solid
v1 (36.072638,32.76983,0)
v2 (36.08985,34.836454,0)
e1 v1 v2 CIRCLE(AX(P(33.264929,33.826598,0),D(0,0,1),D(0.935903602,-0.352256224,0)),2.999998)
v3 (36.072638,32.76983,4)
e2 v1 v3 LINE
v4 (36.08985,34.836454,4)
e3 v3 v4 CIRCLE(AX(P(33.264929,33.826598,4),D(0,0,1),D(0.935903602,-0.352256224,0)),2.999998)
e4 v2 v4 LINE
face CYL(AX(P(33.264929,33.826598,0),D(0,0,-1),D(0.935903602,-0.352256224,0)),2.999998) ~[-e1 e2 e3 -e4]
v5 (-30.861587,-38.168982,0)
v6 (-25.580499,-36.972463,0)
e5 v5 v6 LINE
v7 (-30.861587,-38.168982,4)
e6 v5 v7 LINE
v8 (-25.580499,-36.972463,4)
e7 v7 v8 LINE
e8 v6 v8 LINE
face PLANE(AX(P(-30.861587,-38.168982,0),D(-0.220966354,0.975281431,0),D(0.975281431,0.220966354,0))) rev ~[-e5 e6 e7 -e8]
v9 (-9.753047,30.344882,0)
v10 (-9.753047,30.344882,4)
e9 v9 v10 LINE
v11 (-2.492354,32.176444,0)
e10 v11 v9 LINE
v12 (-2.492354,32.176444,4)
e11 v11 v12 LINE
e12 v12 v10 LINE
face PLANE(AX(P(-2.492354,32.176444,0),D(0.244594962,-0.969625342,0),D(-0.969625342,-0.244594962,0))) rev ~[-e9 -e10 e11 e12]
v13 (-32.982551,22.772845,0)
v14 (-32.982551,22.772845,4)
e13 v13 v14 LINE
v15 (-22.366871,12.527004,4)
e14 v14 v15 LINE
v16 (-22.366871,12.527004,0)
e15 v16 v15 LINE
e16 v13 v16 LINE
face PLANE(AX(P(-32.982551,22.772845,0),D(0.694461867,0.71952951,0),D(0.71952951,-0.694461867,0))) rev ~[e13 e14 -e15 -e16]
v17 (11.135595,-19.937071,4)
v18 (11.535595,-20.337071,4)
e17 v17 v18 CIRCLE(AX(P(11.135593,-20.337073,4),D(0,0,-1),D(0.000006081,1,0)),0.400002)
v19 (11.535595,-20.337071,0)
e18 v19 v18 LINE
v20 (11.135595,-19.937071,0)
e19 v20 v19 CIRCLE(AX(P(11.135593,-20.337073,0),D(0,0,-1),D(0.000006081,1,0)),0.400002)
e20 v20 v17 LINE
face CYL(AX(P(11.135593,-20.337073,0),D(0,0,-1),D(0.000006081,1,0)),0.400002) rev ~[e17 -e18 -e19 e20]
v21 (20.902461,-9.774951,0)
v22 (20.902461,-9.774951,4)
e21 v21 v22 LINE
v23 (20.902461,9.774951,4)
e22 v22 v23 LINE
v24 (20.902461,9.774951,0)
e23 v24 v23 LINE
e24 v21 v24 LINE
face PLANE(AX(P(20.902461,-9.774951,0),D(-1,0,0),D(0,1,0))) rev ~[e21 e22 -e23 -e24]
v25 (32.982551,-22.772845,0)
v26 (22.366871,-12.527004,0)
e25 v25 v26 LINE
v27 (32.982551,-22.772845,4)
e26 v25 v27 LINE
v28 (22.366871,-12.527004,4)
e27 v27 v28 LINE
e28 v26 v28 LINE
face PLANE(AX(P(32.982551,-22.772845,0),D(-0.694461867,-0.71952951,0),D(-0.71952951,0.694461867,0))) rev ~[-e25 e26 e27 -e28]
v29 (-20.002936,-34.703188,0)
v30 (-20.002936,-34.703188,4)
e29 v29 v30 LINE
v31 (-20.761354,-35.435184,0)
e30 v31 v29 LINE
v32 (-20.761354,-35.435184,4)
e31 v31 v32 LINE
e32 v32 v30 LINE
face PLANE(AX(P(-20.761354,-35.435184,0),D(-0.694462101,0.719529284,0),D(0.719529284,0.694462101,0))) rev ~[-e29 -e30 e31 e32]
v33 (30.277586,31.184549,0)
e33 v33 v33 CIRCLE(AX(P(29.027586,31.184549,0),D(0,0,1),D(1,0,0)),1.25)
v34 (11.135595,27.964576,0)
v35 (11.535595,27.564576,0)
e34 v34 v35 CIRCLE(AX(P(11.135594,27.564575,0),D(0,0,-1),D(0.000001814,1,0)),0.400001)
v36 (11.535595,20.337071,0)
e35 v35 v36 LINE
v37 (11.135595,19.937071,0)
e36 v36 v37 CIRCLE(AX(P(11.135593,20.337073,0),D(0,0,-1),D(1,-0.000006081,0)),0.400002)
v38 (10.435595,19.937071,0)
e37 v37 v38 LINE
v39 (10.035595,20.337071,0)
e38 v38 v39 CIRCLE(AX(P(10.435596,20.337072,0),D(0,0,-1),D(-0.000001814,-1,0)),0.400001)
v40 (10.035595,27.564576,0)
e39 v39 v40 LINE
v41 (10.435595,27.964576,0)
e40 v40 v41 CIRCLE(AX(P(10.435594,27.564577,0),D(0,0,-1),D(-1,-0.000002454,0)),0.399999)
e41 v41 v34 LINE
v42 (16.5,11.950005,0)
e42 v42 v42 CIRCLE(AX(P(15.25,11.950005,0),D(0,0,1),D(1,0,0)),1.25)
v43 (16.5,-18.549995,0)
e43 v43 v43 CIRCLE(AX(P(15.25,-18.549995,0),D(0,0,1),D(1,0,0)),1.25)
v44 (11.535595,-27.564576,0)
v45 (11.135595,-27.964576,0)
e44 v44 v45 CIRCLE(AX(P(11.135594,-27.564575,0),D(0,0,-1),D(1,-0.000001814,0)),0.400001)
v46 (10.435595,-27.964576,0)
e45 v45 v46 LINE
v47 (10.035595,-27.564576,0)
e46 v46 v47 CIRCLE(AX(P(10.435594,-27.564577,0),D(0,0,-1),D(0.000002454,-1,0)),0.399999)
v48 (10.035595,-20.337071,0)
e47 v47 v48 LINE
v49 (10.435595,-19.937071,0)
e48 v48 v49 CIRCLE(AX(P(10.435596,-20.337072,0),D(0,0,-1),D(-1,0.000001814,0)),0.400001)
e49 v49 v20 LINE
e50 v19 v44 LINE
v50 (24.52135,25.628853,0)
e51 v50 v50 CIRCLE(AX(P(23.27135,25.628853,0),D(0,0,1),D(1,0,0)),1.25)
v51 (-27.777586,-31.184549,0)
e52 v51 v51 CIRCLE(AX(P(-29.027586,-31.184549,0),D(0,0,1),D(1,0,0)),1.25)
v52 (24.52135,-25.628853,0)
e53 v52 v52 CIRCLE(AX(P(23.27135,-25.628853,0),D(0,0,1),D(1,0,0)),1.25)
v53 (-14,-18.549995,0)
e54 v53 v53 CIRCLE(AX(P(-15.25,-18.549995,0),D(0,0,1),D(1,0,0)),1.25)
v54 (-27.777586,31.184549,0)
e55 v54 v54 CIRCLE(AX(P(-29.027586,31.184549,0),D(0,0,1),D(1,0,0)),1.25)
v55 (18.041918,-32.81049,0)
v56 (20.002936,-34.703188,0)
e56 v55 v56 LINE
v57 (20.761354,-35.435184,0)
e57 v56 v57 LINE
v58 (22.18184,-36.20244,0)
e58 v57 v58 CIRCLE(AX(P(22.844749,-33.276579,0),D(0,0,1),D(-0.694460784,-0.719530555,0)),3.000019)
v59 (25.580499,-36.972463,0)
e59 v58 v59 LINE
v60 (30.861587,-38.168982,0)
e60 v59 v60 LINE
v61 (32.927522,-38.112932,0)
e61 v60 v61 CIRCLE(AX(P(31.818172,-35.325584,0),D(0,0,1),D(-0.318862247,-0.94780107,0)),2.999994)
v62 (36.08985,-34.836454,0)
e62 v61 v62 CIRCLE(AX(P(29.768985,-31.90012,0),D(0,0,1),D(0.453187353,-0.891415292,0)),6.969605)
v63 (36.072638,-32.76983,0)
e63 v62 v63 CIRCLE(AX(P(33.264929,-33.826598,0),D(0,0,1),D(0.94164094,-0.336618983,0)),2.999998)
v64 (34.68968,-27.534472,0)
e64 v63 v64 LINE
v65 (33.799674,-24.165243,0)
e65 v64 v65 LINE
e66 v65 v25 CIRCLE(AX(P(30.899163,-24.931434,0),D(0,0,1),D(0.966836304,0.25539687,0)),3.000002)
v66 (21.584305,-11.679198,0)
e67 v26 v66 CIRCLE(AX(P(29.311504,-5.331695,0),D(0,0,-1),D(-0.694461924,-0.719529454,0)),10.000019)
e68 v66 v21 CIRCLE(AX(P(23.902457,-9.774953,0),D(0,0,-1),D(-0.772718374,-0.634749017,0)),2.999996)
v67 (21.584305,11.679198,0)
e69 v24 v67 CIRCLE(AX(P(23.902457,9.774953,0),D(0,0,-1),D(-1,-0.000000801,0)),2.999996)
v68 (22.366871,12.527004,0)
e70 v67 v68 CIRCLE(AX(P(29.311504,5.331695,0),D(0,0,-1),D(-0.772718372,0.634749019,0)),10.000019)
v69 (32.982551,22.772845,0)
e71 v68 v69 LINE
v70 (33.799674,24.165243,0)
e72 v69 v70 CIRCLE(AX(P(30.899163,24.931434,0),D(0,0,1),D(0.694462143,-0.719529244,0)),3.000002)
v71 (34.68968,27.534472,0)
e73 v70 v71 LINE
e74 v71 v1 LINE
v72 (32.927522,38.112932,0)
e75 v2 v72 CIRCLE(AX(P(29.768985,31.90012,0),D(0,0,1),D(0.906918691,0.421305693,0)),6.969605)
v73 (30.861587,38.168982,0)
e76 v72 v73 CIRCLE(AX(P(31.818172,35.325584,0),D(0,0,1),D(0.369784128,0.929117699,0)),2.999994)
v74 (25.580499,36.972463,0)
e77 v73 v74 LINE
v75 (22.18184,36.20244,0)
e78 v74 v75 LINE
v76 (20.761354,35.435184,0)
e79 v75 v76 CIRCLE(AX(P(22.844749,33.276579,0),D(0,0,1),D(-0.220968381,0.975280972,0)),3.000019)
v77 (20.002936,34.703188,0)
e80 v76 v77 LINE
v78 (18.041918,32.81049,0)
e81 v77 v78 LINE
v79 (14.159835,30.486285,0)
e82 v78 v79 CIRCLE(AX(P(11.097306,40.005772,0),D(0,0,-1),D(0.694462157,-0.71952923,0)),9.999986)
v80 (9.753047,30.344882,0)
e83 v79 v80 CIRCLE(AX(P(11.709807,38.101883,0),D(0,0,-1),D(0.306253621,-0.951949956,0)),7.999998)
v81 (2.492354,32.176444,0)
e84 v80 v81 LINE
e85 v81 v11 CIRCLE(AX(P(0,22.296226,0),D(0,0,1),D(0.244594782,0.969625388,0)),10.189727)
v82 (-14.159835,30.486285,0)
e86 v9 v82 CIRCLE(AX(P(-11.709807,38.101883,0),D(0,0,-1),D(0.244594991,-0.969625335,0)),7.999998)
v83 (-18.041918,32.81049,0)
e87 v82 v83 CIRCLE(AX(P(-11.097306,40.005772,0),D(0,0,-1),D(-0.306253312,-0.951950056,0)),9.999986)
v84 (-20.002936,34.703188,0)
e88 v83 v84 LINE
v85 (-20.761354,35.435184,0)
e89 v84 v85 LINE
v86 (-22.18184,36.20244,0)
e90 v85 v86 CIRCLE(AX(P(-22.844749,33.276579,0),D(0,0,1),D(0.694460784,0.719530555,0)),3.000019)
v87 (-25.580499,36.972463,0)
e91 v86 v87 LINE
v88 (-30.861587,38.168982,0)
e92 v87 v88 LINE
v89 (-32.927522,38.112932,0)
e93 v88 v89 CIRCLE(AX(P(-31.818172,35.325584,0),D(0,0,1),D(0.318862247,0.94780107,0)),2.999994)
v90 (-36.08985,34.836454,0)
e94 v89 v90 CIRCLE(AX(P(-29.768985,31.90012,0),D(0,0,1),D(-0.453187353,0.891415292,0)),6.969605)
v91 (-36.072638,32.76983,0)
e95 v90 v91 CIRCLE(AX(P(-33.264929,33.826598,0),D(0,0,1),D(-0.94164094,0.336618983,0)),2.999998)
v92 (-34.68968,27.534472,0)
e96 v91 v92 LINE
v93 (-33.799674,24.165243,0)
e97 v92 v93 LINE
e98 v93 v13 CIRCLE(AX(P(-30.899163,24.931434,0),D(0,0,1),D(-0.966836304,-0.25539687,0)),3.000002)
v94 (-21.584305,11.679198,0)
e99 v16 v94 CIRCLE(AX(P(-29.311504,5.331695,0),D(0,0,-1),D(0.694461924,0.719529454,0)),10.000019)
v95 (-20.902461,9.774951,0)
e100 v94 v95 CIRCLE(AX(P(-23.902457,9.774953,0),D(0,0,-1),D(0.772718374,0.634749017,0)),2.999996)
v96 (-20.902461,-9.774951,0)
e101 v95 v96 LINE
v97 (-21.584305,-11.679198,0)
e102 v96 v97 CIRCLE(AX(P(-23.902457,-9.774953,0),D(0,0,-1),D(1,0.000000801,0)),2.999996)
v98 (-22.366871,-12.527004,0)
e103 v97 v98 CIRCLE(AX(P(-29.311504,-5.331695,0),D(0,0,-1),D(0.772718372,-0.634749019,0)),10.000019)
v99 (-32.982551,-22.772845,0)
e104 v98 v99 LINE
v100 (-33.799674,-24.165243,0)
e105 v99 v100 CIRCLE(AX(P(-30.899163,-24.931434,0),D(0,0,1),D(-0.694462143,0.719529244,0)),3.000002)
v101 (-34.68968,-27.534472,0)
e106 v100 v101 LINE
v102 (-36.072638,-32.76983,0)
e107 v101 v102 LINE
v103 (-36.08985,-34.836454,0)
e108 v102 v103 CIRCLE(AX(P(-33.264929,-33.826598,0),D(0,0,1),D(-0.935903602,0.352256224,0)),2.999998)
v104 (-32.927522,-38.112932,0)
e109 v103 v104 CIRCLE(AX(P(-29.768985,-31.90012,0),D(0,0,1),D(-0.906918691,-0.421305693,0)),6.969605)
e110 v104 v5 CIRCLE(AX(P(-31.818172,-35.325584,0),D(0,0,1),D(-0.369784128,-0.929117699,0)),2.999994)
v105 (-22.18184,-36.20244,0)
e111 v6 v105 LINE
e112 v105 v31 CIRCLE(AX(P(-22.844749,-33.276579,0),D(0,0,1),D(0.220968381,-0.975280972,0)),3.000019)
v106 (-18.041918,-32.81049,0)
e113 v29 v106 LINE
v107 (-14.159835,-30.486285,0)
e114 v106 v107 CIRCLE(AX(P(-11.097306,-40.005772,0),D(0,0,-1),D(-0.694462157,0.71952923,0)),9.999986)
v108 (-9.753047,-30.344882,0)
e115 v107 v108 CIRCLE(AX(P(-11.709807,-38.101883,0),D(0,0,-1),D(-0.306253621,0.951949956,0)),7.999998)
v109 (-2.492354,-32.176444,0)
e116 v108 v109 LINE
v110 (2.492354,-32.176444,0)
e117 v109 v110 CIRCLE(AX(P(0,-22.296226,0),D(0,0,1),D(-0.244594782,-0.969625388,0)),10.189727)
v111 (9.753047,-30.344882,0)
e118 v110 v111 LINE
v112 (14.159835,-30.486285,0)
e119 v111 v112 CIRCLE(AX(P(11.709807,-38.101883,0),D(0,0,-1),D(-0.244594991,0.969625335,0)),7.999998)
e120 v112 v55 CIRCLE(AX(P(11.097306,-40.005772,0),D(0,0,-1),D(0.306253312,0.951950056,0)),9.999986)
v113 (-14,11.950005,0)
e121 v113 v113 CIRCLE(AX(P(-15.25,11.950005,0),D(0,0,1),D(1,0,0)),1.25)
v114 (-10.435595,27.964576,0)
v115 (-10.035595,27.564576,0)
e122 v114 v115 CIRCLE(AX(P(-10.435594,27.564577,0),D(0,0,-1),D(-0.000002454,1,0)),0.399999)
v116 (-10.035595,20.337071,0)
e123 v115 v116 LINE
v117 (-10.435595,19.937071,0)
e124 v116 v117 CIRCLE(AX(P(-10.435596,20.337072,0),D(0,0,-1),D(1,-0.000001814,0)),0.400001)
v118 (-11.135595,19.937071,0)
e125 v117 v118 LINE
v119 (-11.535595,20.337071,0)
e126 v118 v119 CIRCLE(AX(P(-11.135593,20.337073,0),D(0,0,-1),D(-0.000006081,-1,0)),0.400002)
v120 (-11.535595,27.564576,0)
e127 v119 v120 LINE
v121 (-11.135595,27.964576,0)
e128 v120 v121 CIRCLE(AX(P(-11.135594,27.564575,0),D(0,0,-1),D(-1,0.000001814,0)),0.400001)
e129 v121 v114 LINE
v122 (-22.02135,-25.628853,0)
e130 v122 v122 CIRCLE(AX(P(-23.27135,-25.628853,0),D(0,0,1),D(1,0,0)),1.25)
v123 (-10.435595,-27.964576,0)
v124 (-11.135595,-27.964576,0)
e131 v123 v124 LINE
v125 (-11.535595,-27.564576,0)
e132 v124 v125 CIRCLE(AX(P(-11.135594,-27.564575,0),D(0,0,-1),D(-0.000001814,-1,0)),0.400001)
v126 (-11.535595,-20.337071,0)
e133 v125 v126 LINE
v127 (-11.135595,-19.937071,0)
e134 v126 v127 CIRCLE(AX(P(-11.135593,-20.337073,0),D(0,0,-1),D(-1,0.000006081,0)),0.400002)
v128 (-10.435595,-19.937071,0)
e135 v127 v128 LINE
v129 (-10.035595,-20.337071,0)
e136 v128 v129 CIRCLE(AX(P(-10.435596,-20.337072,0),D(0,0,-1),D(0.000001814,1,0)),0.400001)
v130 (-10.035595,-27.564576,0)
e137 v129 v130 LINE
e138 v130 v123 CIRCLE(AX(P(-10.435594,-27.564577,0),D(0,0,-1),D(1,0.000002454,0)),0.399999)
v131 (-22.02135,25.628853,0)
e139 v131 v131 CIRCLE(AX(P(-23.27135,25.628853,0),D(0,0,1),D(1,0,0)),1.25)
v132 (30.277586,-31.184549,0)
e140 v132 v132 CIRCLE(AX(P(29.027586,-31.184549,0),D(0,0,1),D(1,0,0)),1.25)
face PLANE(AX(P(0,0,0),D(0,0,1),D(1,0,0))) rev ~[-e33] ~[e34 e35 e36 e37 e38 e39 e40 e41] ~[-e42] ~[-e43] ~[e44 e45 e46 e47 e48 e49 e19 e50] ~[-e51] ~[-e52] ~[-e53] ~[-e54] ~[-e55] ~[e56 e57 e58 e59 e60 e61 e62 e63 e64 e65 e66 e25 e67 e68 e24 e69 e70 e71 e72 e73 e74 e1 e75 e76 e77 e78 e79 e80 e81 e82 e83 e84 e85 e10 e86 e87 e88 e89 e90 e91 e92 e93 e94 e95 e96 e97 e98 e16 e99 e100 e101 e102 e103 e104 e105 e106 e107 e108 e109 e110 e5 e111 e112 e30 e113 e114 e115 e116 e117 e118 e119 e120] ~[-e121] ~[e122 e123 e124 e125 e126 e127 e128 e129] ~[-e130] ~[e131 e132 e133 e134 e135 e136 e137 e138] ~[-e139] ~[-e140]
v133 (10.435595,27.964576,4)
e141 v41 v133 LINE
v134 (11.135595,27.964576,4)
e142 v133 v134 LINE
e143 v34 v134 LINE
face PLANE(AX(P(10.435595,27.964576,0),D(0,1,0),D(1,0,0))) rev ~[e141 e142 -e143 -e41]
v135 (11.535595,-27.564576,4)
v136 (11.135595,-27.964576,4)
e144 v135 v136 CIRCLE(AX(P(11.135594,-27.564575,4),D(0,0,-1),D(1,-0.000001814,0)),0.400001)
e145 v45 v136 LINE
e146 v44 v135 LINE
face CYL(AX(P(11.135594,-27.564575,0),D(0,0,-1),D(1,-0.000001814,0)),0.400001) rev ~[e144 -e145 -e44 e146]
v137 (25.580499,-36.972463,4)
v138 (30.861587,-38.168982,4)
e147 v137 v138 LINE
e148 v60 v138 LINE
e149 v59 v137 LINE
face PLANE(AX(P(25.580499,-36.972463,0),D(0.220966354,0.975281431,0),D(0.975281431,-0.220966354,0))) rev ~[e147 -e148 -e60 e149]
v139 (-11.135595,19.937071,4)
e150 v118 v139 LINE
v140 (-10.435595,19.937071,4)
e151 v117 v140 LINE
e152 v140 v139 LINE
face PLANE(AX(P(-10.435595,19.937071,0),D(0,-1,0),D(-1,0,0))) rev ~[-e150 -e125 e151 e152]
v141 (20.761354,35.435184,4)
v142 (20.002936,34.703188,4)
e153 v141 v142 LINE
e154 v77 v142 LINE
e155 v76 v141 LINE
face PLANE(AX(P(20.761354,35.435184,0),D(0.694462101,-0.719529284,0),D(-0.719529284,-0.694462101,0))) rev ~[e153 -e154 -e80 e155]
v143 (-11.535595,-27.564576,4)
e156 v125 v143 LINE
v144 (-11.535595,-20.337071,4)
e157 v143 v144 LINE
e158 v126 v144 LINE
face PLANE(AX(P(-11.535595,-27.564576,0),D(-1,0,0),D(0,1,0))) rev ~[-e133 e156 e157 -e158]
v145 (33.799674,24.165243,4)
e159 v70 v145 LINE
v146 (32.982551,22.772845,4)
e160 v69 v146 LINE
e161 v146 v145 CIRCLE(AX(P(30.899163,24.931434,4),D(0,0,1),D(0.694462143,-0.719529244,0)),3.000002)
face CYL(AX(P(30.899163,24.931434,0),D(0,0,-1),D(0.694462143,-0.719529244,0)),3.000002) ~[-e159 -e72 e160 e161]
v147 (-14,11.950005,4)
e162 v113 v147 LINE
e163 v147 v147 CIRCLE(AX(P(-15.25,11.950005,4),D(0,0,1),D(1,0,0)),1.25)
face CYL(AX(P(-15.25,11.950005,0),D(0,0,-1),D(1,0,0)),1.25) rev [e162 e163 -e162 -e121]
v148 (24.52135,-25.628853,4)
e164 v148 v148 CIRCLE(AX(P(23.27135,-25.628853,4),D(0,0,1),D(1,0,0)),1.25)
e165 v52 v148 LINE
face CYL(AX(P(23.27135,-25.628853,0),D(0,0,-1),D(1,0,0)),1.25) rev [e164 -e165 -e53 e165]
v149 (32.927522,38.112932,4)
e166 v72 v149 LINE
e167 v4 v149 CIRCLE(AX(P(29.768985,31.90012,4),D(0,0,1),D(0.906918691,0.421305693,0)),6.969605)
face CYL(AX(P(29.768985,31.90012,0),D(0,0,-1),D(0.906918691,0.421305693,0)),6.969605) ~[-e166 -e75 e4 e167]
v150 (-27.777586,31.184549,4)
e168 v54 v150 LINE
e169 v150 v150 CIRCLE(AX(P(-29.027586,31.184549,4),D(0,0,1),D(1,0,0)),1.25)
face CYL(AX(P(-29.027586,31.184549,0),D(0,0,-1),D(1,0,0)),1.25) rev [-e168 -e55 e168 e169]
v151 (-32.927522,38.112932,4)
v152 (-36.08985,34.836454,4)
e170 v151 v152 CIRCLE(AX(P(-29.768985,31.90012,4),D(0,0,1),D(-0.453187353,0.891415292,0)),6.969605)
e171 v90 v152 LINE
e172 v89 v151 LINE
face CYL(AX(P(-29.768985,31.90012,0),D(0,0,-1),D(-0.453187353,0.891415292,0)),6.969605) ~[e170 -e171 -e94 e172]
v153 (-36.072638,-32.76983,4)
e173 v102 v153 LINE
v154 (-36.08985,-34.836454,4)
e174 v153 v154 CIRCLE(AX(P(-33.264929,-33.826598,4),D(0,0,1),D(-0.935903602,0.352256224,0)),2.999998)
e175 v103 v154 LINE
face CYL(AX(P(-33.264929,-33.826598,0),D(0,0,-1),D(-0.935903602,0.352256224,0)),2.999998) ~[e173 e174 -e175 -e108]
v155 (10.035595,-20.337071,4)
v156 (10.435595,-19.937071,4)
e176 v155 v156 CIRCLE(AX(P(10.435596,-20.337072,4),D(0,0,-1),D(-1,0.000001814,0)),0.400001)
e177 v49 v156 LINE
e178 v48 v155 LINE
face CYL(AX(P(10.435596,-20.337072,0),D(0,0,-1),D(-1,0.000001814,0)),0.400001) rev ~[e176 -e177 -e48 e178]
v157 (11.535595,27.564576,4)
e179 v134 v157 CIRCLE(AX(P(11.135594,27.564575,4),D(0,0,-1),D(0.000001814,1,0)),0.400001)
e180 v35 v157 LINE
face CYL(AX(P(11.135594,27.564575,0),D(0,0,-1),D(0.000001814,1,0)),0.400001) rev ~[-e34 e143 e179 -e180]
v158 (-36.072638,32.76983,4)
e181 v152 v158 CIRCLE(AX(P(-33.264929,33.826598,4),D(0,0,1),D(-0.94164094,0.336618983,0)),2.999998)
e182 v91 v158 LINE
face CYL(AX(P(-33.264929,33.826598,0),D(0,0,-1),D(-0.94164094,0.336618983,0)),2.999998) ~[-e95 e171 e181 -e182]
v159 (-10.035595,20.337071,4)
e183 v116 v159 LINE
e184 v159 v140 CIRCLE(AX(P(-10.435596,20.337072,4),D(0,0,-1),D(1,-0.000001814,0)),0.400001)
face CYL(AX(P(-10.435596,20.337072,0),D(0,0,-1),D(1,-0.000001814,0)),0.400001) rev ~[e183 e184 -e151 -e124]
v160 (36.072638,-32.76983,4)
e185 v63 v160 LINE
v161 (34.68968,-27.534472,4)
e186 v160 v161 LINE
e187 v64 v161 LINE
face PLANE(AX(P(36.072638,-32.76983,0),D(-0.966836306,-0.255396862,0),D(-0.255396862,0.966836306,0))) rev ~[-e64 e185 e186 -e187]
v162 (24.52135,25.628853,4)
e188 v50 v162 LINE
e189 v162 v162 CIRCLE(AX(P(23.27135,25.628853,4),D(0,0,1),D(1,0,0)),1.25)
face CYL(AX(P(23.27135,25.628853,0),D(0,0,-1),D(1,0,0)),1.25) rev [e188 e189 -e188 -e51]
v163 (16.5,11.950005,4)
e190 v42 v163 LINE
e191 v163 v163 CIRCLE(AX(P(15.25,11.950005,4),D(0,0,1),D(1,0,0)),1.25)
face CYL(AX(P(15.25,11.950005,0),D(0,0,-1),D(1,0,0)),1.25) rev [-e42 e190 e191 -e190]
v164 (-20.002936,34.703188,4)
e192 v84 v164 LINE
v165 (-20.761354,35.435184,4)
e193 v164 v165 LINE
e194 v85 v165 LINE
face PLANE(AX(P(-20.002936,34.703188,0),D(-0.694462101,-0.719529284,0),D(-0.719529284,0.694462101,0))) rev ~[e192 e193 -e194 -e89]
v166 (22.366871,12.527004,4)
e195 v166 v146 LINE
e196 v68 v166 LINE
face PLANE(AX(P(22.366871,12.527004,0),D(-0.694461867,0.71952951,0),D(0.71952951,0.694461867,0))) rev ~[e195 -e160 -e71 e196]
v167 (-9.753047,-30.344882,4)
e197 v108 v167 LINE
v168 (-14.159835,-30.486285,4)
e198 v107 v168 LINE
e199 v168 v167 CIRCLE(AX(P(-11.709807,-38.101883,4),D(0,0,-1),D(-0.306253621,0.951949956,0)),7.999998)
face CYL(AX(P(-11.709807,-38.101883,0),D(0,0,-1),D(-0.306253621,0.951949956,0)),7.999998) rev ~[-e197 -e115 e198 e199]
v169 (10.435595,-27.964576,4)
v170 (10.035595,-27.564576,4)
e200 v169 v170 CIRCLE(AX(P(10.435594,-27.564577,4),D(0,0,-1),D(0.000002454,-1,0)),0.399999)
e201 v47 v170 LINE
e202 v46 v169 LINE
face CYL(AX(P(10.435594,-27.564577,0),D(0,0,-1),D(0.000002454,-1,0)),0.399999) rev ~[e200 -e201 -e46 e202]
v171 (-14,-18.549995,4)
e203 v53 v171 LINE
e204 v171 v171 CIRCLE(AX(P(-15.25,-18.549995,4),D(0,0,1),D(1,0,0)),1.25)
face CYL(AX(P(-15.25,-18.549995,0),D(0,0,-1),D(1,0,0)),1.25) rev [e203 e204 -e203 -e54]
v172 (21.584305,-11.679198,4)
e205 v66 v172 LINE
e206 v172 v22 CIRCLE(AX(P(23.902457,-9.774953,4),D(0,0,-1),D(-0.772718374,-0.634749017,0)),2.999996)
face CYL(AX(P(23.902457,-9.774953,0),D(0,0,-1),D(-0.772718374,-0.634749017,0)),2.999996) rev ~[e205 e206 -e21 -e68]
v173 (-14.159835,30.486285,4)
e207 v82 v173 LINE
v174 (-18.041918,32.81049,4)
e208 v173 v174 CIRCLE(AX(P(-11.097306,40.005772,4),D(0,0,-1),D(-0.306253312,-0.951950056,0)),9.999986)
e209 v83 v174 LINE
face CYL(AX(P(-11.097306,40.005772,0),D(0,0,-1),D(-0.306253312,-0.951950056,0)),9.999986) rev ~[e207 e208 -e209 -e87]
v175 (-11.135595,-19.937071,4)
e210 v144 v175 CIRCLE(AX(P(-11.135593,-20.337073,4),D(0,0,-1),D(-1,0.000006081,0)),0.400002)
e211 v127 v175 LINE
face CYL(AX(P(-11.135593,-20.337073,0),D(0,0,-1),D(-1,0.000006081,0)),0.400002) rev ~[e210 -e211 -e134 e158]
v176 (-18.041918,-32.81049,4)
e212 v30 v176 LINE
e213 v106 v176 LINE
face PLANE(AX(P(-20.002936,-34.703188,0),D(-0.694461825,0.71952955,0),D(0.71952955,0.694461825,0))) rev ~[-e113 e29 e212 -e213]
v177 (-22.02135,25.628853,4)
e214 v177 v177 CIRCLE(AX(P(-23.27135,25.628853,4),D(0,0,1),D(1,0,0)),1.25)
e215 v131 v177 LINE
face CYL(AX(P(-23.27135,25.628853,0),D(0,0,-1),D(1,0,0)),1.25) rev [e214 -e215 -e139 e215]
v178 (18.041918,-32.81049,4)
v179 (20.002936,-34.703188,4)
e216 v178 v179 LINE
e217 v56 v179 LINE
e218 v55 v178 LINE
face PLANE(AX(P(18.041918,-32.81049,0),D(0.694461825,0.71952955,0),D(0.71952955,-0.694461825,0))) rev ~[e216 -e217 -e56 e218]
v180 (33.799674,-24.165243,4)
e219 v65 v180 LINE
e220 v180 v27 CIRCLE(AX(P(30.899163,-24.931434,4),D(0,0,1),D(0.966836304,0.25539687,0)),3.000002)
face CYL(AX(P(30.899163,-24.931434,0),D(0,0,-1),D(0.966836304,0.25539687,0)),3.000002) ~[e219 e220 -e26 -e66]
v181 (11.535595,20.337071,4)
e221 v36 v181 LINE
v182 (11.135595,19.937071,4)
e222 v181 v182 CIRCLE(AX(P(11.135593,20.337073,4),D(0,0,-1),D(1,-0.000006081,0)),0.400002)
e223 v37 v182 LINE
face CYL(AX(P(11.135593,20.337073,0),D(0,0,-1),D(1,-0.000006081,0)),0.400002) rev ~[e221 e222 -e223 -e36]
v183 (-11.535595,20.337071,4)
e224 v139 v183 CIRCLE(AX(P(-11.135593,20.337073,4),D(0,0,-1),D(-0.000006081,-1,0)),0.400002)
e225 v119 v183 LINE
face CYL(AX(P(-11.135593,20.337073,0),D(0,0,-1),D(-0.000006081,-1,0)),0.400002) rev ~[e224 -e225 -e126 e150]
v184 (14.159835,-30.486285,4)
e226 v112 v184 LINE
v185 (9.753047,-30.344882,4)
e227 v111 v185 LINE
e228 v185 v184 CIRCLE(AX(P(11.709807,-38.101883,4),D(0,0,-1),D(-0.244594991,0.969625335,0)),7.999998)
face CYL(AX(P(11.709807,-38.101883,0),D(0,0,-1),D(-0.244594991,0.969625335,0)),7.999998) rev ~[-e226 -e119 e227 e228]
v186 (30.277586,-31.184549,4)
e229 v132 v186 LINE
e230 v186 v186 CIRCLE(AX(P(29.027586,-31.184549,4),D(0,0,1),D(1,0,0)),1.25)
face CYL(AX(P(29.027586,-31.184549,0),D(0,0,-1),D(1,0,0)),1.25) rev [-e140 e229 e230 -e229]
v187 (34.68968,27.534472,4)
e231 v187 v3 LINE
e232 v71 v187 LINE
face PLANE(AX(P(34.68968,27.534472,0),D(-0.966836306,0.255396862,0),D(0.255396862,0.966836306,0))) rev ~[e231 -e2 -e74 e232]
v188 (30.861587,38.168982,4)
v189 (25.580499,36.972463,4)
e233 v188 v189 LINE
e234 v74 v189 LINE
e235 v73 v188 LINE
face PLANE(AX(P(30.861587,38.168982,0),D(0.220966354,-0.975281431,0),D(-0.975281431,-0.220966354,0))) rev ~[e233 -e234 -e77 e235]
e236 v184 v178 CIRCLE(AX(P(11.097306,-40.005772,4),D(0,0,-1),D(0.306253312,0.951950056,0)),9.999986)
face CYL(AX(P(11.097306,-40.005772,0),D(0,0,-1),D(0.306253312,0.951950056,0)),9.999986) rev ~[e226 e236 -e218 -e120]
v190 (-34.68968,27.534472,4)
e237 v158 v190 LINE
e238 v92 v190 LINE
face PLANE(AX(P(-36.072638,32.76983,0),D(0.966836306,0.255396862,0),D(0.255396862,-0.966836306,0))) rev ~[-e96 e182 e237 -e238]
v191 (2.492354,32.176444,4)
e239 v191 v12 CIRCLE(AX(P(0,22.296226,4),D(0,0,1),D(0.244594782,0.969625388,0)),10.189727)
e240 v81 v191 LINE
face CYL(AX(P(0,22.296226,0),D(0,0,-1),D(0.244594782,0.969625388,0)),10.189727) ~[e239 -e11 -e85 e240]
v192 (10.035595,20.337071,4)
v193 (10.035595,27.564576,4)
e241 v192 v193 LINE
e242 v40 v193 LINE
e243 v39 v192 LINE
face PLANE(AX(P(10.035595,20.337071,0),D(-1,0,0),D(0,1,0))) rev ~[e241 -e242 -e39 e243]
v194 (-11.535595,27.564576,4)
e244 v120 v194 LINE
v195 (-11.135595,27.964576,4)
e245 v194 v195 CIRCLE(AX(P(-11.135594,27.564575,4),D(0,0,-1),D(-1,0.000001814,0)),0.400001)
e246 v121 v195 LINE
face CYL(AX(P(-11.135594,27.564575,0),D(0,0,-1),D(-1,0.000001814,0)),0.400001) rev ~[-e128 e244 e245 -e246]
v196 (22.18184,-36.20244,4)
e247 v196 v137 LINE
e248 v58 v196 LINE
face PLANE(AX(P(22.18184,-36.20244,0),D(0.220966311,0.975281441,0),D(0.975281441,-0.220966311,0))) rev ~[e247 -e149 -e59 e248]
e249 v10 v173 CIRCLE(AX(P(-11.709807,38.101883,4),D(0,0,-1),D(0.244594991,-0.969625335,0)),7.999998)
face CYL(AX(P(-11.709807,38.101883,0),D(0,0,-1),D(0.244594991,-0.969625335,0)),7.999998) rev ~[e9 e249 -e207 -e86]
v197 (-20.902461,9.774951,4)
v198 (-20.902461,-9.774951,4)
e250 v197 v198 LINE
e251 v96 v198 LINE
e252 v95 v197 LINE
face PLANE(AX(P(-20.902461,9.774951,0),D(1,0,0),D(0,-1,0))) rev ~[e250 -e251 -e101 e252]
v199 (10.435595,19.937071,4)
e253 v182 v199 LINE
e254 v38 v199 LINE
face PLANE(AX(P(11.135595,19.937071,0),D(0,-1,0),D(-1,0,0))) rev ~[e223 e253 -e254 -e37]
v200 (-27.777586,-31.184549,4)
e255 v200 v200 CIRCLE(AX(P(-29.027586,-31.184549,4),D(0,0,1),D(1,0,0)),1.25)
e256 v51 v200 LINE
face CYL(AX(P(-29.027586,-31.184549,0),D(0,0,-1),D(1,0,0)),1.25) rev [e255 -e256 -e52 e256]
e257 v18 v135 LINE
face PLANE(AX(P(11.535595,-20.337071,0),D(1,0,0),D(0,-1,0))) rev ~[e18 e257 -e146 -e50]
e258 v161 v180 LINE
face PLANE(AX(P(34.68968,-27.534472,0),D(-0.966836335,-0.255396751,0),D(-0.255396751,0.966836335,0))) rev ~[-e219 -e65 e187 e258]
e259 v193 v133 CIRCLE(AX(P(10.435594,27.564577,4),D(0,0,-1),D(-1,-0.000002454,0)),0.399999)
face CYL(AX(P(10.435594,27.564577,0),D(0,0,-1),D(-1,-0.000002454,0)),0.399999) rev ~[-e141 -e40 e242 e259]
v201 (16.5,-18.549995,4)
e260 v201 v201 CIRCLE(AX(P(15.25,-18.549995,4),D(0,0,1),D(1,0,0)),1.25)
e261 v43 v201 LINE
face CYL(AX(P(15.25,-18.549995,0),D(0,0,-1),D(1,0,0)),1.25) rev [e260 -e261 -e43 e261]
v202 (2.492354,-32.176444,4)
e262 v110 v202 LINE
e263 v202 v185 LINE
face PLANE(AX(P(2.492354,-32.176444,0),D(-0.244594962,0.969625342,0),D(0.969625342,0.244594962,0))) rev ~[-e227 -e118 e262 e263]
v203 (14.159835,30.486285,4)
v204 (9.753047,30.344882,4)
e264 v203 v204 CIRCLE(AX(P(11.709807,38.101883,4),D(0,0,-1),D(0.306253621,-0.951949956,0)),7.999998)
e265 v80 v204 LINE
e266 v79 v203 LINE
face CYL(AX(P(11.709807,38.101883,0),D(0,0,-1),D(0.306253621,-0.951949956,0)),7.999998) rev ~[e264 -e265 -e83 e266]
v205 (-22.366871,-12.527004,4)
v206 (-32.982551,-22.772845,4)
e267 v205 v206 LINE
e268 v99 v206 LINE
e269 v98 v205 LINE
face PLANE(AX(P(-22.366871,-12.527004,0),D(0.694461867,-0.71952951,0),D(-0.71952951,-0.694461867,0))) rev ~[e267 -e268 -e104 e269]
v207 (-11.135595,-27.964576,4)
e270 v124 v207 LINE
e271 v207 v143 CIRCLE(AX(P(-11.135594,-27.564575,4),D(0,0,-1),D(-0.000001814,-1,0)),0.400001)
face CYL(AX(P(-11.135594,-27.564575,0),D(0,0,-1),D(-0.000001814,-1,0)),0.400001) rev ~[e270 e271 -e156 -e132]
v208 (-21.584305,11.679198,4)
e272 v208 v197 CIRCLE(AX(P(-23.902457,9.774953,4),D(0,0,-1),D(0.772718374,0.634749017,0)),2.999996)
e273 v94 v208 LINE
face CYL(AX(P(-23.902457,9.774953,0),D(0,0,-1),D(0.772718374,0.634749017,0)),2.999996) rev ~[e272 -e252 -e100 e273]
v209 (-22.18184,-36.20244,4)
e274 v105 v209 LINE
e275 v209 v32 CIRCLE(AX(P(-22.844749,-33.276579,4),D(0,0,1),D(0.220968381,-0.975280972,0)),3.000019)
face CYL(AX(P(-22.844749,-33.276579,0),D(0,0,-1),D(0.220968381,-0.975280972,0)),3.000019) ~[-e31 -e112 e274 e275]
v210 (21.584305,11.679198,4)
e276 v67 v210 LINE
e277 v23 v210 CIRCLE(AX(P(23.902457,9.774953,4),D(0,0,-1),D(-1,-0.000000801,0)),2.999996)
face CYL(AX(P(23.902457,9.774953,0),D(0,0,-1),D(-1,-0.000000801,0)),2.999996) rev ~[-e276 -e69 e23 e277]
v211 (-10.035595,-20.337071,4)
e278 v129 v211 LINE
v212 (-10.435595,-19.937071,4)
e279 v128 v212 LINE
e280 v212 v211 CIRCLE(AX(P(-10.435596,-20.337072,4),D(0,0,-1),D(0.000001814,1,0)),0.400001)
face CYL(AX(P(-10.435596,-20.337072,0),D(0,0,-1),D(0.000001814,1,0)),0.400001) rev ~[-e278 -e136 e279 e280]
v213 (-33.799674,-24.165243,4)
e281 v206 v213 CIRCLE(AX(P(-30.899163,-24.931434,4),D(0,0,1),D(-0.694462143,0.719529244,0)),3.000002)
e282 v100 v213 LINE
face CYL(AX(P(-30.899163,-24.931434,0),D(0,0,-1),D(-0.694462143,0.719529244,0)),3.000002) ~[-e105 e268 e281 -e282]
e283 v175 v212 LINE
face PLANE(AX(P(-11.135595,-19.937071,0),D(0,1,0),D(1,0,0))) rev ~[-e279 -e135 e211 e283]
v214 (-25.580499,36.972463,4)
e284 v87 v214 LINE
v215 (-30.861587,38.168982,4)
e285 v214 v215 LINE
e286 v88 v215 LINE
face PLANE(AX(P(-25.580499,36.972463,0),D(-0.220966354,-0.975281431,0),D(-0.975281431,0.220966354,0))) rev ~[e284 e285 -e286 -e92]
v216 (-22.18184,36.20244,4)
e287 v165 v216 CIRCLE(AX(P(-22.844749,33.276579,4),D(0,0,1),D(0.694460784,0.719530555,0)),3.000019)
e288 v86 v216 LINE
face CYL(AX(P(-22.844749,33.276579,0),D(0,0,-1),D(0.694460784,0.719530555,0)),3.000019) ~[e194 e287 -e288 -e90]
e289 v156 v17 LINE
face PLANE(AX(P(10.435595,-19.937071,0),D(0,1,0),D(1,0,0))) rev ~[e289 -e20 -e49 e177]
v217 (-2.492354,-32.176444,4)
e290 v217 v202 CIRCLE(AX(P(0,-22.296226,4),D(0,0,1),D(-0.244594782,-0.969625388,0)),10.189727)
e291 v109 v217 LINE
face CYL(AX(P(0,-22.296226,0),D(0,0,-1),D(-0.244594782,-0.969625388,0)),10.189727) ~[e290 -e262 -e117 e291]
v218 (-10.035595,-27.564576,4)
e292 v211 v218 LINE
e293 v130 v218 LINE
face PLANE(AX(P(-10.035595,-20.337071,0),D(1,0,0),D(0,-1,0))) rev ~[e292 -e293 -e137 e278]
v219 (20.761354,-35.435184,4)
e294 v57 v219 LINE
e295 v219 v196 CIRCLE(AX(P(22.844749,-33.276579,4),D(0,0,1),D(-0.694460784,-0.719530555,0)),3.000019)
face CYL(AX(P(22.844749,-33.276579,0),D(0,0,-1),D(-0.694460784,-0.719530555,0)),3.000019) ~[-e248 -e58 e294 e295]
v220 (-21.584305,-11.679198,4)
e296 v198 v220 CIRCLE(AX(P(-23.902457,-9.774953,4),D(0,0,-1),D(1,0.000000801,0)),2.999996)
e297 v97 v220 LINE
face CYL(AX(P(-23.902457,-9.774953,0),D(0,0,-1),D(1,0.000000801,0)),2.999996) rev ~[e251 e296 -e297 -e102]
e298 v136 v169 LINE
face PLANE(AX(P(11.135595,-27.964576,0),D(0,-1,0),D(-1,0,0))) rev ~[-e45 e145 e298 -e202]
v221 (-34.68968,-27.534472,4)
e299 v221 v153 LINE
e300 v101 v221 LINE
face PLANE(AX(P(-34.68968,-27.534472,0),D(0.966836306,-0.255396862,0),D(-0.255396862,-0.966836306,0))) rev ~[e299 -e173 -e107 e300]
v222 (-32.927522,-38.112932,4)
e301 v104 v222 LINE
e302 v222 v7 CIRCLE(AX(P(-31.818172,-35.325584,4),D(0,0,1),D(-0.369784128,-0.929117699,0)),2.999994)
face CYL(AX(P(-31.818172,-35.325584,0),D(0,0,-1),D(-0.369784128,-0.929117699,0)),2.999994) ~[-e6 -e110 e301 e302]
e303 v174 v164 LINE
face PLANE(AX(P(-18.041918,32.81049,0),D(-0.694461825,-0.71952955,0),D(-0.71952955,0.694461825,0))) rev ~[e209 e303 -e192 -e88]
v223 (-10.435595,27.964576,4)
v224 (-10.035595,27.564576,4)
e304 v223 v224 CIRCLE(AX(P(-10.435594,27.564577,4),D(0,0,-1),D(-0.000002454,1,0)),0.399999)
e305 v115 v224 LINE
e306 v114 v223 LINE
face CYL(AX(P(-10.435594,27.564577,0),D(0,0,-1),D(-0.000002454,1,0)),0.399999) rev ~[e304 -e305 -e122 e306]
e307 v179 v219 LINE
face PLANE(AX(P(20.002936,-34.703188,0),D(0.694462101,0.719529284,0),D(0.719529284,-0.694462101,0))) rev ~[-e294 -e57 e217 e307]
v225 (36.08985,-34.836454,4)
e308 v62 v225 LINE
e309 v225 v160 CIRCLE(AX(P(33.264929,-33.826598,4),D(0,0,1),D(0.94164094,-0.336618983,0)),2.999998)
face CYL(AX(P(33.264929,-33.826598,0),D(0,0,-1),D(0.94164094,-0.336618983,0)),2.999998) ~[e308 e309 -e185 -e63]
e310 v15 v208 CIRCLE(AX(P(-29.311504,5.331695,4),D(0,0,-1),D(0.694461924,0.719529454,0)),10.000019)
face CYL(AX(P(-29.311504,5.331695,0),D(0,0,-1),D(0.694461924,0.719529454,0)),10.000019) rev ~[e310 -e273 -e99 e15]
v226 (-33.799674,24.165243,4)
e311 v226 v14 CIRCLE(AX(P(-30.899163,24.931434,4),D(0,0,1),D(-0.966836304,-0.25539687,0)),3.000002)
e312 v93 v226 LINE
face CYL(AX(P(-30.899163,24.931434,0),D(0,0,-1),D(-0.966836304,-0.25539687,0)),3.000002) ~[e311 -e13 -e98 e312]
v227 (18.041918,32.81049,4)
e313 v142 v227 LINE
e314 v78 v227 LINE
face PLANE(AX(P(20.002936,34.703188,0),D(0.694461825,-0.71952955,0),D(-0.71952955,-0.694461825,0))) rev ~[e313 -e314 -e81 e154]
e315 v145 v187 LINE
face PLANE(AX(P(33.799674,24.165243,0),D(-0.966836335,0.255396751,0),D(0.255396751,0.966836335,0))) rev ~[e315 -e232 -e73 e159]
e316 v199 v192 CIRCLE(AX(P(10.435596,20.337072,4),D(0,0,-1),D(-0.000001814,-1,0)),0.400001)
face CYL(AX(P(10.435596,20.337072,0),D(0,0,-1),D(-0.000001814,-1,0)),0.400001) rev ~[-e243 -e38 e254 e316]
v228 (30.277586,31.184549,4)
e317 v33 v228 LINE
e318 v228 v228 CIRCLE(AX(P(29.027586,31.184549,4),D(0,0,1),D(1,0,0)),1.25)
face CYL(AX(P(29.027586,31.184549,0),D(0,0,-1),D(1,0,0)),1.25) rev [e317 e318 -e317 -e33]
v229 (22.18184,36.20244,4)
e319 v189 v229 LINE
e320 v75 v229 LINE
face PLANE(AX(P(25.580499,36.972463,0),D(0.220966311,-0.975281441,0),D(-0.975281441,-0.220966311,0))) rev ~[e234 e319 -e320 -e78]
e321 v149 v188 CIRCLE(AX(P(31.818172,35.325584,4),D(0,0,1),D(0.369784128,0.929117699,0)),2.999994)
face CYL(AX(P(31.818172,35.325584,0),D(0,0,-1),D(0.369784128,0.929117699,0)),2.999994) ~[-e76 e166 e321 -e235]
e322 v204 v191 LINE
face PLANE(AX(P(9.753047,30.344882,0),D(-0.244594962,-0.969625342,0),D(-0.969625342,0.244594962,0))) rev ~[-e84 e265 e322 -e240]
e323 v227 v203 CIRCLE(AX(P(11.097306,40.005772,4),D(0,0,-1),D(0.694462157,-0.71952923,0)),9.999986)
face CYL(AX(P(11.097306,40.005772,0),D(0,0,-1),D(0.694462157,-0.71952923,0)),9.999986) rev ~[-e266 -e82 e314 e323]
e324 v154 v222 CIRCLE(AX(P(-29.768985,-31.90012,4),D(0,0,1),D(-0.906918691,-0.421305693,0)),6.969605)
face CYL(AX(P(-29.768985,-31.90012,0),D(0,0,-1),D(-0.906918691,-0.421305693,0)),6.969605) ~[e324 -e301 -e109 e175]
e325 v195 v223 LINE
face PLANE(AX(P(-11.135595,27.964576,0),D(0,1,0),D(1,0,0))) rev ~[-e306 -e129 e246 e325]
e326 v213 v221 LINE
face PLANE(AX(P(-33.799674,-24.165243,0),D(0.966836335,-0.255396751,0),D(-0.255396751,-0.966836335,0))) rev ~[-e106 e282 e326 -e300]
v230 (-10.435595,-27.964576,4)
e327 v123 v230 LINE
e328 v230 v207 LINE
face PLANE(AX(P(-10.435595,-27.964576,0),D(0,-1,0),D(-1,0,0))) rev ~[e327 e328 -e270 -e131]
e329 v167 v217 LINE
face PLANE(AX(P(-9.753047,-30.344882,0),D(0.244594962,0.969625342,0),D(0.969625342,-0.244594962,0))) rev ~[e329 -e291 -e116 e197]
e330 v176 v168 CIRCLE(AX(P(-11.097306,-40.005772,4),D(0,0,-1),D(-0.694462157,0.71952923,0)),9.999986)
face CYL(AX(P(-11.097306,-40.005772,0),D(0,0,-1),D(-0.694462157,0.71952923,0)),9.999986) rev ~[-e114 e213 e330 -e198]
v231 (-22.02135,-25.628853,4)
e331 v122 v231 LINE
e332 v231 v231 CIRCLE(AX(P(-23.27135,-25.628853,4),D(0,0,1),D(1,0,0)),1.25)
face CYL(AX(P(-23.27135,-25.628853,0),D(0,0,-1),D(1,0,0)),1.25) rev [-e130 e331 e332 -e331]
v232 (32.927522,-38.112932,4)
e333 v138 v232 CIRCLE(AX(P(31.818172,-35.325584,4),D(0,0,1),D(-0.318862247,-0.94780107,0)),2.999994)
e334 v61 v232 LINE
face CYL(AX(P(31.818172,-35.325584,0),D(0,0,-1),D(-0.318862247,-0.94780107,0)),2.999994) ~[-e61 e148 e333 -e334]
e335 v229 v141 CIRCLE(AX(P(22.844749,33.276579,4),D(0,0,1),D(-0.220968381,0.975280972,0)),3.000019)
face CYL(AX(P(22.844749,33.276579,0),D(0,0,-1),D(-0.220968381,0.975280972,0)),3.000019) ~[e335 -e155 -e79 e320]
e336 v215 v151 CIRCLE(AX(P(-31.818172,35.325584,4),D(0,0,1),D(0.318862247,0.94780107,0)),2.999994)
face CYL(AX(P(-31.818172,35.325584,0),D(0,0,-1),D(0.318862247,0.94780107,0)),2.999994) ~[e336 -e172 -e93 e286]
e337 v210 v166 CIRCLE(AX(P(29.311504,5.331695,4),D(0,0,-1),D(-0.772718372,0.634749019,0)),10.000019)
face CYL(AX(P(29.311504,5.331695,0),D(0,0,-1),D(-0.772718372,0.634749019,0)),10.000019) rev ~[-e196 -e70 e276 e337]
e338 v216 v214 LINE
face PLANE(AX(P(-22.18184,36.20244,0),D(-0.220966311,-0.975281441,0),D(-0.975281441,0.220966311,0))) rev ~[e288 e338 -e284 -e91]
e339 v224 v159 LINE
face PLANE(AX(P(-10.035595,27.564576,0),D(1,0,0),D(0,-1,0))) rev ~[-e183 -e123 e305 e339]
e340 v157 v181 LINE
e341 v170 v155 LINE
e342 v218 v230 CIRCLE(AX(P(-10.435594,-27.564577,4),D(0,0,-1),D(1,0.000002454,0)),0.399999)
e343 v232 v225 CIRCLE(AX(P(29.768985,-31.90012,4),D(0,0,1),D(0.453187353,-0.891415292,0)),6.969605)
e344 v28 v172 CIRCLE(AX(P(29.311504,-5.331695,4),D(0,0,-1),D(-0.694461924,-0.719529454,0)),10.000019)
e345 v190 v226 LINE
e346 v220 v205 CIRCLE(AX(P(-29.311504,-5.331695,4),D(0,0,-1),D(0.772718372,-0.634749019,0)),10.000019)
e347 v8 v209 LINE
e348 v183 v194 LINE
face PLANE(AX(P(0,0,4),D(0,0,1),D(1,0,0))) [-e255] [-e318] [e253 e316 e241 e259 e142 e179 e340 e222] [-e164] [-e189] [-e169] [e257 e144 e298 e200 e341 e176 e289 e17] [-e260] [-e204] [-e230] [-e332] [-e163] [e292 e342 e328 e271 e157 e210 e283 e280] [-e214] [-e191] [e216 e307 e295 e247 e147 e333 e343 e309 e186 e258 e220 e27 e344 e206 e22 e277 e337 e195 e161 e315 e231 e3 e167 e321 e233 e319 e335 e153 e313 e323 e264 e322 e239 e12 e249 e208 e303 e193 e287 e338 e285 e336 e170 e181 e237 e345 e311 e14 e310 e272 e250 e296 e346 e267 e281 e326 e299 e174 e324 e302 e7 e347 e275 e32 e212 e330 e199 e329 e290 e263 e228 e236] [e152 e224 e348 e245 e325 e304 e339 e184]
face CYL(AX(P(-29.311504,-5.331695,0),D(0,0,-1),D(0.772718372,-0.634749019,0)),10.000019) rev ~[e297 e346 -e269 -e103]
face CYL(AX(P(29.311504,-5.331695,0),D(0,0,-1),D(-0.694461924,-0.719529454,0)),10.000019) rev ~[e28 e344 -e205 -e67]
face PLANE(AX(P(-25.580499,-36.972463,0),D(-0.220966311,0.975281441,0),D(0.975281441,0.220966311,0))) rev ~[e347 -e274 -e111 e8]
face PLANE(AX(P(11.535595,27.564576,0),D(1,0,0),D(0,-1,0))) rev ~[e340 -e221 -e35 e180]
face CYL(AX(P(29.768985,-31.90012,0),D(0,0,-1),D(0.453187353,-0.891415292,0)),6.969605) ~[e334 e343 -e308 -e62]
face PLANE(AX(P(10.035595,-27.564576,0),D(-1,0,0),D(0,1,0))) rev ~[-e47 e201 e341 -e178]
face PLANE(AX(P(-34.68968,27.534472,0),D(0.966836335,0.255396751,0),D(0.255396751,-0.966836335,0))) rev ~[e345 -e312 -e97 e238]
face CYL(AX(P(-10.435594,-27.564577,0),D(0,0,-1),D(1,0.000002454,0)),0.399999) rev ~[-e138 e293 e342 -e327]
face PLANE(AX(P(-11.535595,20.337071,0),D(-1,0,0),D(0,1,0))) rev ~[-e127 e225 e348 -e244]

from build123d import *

# Parameters (mm, degrees)
F0_R     = 1.25
F1_DEPTH = 4


with BuildPart() as f1:
    # F0 (on Top) → F1 (new body)
    with BuildSketch(Plane.XY):
        with BuildLine():
            ThreePointArc((21.584305, 11.679198), (21.963351, 12.114397), (22.366871, 12.527004))
            Line((22.366871, 12.527004), (32.982551, 22.772845))
            ThreePointArc((32.982551, 22.772845), (33.486537, 23.413044), (33.799674, 24.165243))
            Line((33.799674, 24.165243), (34.68968, 27.534472))
            Line((34.68968, 27.534472), (36.072638, 32.76983))
            ThreePointArc((36.072638, 32.76983), (36.264823, 33.801613), (36.08985, 34.836454))
            ThreePointArc((36.08985, 34.836454), (34.783822, 36.740244), (32.927522, 38.112932))
            ThreePointArc((32.927522, 38.112932), (31.899533, 38.324475), (30.861587, 38.168982))
            Line((30.861587, 38.168982), (25.580499, 36.972463))
            Line((25.580499, 36.972463), (22.18184, 36.20244))
            ThreePointArc((22.18184, 36.20244), (21.419015, 35.916161), (20.761354, 35.435184))
            Line((20.761354, 35.435184), (20.002936, 34.703188))
            Line((20.002936, 34.703188), (18.041918, 32.81049))
            ThreePointArc((18.041918, 32.81049), (16.234056, 31.42594), (14.159835, 30.486285))
            ThreePointArc((14.159835, 30.486285), (11.966375, 30.106), (9.753047, 30.344882))
            Line((9.753047, 30.344882), (2.492354, 32.176444))
            ThreePointArc((2.492354, 32.176444), (0, 32.485953), (-2.492354, 32.176444))
            Line((-2.492354, 32.176444), (-9.753047, 30.344882))
            ThreePointArc((-9.753047, 30.344882), (-11.966375, 30.106), (-14.159835, 30.486285))
            ThreePointArc((-14.159835, 30.486285), (-16.234056, 31.42594), (-18.041918, 32.81049))
            Line((-18.041918, 32.81049), (-20.002936, 34.703188))
            Line((-20.002936, 34.703188), (-20.761354, 35.435184))
            ThreePointArc((-20.761354, 35.435184), (-21.419015, 35.916161), (-22.18184, 36.20244))
            Line((-22.18184, 36.20244), (-25.580499, 36.972463))
            Line((-25.580499, 36.972463), (-30.861587, 38.168982))
            ThreePointArc((-30.861587, 38.168982), (-31.899533, 38.324475), (-32.927522, 38.112932))
            ThreePointArc((-32.927522, 38.112932), (-34.783822, 36.740244), (-36.08985, 34.836454))
            ThreePointArc((-36.08985, 34.836454), (-36.264823, 33.801613), (-36.072638, 32.76983))
            Line((-36.072638, 32.76983), (-34.68968, 27.534472))
            Line((-34.68968, 27.534472), (-33.799674, 24.165243))
            ThreePointArc((-33.799674, 24.165243), (-33.486537, 23.413044), (-32.982551, 22.772845))
            Line((-32.982551, 22.772845), (-22.366871, 12.527004))
            ThreePointArc((-22.366871, 12.527004), (-21.963351, 12.114397), (-21.584305, 11.679198))
            ThreePointArc((-21.584305, 11.679198), (-21.078061, 10.786271), (-20.902461, 9.774951))
            Line((-20.902461, 9.774951), (-20.902461, -9.774951))
            ThreePointArc((-20.902461, -9.774951), (-21.078061, -10.786271), (-21.584305, -11.679198))
            ThreePointArc((-21.584305, -11.679198), (-21.963351, -12.114397), (-22.366871, -12.527004))
            Line((-22.366871, -12.527004), (-32.982551, -22.772845))
            ThreePointArc((-32.982551, -22.772845), (-33.486537, -23.413044), (-33.799674, -24.165243))
            Line((-33.799674, -24.165243), (-34.68968, -27.534472))
            Line((-34.68968, -27.534472), (-36.072638, -32.76983))
            ThreePointArc((-36.072638, -32.76983), (-36.264823, -33.801613), (-36.08985, -34.836454))
            ThreePointArc((-36.08985, -34.836454), (-34.783822, -36.740244), (-32.927522, -38.112932))
            ThreePointArc((-32.927522, -38.112932), (-31.899533, -38.324475), (-30.861587, -38.168982))
            Line((-30.861587, -38.168982), (-25.580499, -36.972463))
            Line((-25.580499, -36.972463), (-22.18184, -36.20244))
            ThreePointArc((-22.18184, -36.20244), (-21.419015, -35.916161), (-20.761354, -35.435184))
            Line((-20.761354, -35.435184), (-20.002936, -34.703188))
            Line((-20.002936, -34.703188), (-18.041918, -32.81049))
            ThreePointArc((-18.041918, -32.81049), (-16.234056, -31.42594), (-14.159835, -30.486285))
            ThreePointArc((-14.159835, -30.486285), (-11.966375, -30.106), (-9.753047, -30.344882))
            Line((-9.753047, -30.344882), (-2.492354, -32.176444))
            ThreePointArc((-2.492354, -32.176444), (0, -32.485953), (2.492354, -32.176444))
            Line((2.492354, -32.176444), (9.753047, -30.344882))
            ThreePointArc((9.753047, -30.344882), (11.966375, -30.106), (14.159835, -30.486285))
            ThreePointArc((14.159835, -30.486285), (16.234056, -31.42594), (18.041918, -32.81049))
            Line((18.041918, -32.81049), (20.002936, -34.703188))
            Line((20.002936, -34.703188), (20.761354, -35.435184))
            ThreePointArc((20.761354, -35.435184), (21.419015, -35.916161), (22.18184, -36.20244))
            Line((22.18184, -36.20244), (25.580499, -36.972463))
            Line((25.580499, -36.972463), (30.861587, -38.168982))
            ThreePointArc((30.861587, -38.168982), (31.899533, -38.324475), (32.927522, -38.112932))
            ThreePointArc((32.927522, -38.112932), (34.783822, -36.740244), (36.08985, -34.836454))
            ThreePointArc((36.08985, -34.836454), (36.264823, -33.801613), (36.072638, -32.76983))
            Line((36.072638, -32.76983), (34.68968, -27.534472))
            Line((34.68968, -27.534472), (33.799674, -24.165243))
            ThreePointArc((33.799674, -24.165243), (33.486537, -23.413044), (32.982551, -22.772845))
            Line((32.982551, -22.772845), (22.366871, -12.527004))
            ThreePointArc((22.366871, -12.527004), (21.963351, -12.114397), (21.584305, -11.679198))
            ThreePointArc((21.584305, -11.679198), (21.078061, -10.786271), (20.902461, -9.774951))
            Line((20.902461, -9.774951), (20.902461, 9.774951))
            ThreePointArc((20.902461, 9.774951), (21.078061, 10.786271), (21.584305, 11.679198))
        make_face()
        with Locations((-29.027586, -31.184549)):
            Circle(F0_R, mode=Mode.SUBTRACT)
        with Locations((-23.27135, -25.628853)):
            Circle(F0_R, mode=Mode.SUBTRACT)
        with BuildLine():
            ThreePointArc((-10.435595, -19.937071), (-10.152752, -20.054229), (-10.035595, -20.337071))
            Line((-10.035595, -20.337071), (-10.035595, -24.606303))
            Line((-10.035595, -24.606303), (-10.035595, -27.564576))
            ThreePointArc((-10.035595, -27.564576), (-10.152752, -27.847419), (-10.435595, -27.964576))
            Line((-10.435595, -27.964576), (-11.135595, -27.964576))
            ThreePointArc((-11.135595, -27.964576), (-11.418437, -27.847419), (-11.535595, -27.564576))
            Line((-11.535595, -27.564576), (-11.535595, -20.337071))
            ThreePointArc((-11.535595, -20.337071), (-11.418437, -20.054229), (-11.135595, -19.937071))
            Line((-11.135595, -19.937071), (-10.435595, -19.937071))
        make_face(mode=Mode.SUBTRACT)
        with Locations((-15.25, -18.549995)):
            Circle(F0_R, mode=Mode.SUBTRACT)
        with BuildLine():
            Line((11.535595, -20.337071), (11.535595, -27.564576))
            ThreePointArc((11.535595, -27.564576), (11.418437, -27.847419), (11.135595, -27.964576))
            Line((11.135595, -27.964576), (10.435595, -27.964576))
            ThreePointArc((10.435595, -27.964576), (10.152752, -27.847419), (10.035595, -27.564576))
            Line((10.035595, -27.564576), (10.035595, -24.606303))
            Line((10.035595, -24.606303), (10.035595, -20.337071))
            ThreePointArc((10.035595, -20.337071), (10.152752, -20.054229), (10.435595, -19.937071))
            Line((10.435595, -19.937071), (11.135595, -19.937071))
            ThreePointArc((11.135595, -19.937071), (11.418437, -20.054229), (11.535595, -20.337071))
        make_face(mode=Mode.SUBTRACT)
        with Locations((29.027586, -31.184549)):
            Circle(F0_R, mode=Mode.SUBTRACT)
        with Locations((23.27135, -25.628853)):
            Circle(F0_R, mode=Mode.SUBTRACT)
        with Locations((15.25, -18.549995)):
            Circle(F0_R, mode=Mode.SUBTRACT)
        with Locations((-15.25, 11.950005)):
            Circle(F0_R, mode=Mode.SUBTRACT)
        with Locations((-23.27135, 25.628853)):
            Circle(F0_R, mode=Mode.SUBTRACT)
        with Locations((-29.027586, 31.184549)):
            Circle(F0_R, mode=Mode.SUBTRACT)
        with BuildLine():
            Line((-11.135595, 27.964576), (-10.435595, 27.964576))
            ThreePointArc((-10.435595, 27.964576), (-10.152752, 27.847419), (-10.035595, 27.564576))
            Line((-10.035595, 27.564576), (-10.035595, 24.606303))
            Line((-10.035595, 24.606303), (-10.035595, 20.337071))
            ThreePointArc((-10.035595, 20.337071), (-10.152752, 20.054229), (-10.435595, 19.937071))
            Line((-10.435595, 19.937071), (-11.135595, 19.937071))
            ThreePointArc((-11.135595, 19.937071), (-11.418437, 20.054229), (-11.535595, 20.337071))
            Line((-11.535595, 20.337071), (-11.535595, 27.564576))
            ThreePointArc((-11.535595, 27.564576), (-11.418437, 27.847419), (-11.135595, 27.964576))
        make_face(mode=Mode.SUBTRACT)
        with Locations((15.25, 11.950005)):
            Circle(F0_R, mode=Mode.SUBTRACT)
        with BuildLine():
            Line((10.035595, 24.606303), (10.035595, 27.564576))
            ThreePointArc((10.035595, 27.564576), (10.152752, 27.847419), (10.435595, 27.964576))
            Line((10.435595, 27.964576), (11.135595, 27.964576))
            ThreePointArc((11.135595, 27.964576), (11.418437, 27.847419), (11.535595, 27.564576))
            Line((11.535595, 27.564576), (11.535595, 20.337071))
            ThreePointArc((11.535595, 20.337071), (11.418437, 20.054229), (11.135595, 19.937071))
            Line((11.135595, 19.937071), (10.435595, 19.937071))
            ThreePointArc((10.435595, 19.937071), (10.152752, 20.054229), (10.035595, 20.337071))
            Line((10.035595, 20.337071), (10.035595, 24.606303))
        make_face(mode=Mode.SUBTRACT)
        with Locations((23.27135, 25.628853)):
            Circle(F0_R, mode=Mode.SUBTRACT)
        with Locations((29.027586, 31.184549)):
            Circle(F0_R, mode=Mode.SUBTRACT)
    extrude(amount=F1_DEPTH)


solid = f1.part
